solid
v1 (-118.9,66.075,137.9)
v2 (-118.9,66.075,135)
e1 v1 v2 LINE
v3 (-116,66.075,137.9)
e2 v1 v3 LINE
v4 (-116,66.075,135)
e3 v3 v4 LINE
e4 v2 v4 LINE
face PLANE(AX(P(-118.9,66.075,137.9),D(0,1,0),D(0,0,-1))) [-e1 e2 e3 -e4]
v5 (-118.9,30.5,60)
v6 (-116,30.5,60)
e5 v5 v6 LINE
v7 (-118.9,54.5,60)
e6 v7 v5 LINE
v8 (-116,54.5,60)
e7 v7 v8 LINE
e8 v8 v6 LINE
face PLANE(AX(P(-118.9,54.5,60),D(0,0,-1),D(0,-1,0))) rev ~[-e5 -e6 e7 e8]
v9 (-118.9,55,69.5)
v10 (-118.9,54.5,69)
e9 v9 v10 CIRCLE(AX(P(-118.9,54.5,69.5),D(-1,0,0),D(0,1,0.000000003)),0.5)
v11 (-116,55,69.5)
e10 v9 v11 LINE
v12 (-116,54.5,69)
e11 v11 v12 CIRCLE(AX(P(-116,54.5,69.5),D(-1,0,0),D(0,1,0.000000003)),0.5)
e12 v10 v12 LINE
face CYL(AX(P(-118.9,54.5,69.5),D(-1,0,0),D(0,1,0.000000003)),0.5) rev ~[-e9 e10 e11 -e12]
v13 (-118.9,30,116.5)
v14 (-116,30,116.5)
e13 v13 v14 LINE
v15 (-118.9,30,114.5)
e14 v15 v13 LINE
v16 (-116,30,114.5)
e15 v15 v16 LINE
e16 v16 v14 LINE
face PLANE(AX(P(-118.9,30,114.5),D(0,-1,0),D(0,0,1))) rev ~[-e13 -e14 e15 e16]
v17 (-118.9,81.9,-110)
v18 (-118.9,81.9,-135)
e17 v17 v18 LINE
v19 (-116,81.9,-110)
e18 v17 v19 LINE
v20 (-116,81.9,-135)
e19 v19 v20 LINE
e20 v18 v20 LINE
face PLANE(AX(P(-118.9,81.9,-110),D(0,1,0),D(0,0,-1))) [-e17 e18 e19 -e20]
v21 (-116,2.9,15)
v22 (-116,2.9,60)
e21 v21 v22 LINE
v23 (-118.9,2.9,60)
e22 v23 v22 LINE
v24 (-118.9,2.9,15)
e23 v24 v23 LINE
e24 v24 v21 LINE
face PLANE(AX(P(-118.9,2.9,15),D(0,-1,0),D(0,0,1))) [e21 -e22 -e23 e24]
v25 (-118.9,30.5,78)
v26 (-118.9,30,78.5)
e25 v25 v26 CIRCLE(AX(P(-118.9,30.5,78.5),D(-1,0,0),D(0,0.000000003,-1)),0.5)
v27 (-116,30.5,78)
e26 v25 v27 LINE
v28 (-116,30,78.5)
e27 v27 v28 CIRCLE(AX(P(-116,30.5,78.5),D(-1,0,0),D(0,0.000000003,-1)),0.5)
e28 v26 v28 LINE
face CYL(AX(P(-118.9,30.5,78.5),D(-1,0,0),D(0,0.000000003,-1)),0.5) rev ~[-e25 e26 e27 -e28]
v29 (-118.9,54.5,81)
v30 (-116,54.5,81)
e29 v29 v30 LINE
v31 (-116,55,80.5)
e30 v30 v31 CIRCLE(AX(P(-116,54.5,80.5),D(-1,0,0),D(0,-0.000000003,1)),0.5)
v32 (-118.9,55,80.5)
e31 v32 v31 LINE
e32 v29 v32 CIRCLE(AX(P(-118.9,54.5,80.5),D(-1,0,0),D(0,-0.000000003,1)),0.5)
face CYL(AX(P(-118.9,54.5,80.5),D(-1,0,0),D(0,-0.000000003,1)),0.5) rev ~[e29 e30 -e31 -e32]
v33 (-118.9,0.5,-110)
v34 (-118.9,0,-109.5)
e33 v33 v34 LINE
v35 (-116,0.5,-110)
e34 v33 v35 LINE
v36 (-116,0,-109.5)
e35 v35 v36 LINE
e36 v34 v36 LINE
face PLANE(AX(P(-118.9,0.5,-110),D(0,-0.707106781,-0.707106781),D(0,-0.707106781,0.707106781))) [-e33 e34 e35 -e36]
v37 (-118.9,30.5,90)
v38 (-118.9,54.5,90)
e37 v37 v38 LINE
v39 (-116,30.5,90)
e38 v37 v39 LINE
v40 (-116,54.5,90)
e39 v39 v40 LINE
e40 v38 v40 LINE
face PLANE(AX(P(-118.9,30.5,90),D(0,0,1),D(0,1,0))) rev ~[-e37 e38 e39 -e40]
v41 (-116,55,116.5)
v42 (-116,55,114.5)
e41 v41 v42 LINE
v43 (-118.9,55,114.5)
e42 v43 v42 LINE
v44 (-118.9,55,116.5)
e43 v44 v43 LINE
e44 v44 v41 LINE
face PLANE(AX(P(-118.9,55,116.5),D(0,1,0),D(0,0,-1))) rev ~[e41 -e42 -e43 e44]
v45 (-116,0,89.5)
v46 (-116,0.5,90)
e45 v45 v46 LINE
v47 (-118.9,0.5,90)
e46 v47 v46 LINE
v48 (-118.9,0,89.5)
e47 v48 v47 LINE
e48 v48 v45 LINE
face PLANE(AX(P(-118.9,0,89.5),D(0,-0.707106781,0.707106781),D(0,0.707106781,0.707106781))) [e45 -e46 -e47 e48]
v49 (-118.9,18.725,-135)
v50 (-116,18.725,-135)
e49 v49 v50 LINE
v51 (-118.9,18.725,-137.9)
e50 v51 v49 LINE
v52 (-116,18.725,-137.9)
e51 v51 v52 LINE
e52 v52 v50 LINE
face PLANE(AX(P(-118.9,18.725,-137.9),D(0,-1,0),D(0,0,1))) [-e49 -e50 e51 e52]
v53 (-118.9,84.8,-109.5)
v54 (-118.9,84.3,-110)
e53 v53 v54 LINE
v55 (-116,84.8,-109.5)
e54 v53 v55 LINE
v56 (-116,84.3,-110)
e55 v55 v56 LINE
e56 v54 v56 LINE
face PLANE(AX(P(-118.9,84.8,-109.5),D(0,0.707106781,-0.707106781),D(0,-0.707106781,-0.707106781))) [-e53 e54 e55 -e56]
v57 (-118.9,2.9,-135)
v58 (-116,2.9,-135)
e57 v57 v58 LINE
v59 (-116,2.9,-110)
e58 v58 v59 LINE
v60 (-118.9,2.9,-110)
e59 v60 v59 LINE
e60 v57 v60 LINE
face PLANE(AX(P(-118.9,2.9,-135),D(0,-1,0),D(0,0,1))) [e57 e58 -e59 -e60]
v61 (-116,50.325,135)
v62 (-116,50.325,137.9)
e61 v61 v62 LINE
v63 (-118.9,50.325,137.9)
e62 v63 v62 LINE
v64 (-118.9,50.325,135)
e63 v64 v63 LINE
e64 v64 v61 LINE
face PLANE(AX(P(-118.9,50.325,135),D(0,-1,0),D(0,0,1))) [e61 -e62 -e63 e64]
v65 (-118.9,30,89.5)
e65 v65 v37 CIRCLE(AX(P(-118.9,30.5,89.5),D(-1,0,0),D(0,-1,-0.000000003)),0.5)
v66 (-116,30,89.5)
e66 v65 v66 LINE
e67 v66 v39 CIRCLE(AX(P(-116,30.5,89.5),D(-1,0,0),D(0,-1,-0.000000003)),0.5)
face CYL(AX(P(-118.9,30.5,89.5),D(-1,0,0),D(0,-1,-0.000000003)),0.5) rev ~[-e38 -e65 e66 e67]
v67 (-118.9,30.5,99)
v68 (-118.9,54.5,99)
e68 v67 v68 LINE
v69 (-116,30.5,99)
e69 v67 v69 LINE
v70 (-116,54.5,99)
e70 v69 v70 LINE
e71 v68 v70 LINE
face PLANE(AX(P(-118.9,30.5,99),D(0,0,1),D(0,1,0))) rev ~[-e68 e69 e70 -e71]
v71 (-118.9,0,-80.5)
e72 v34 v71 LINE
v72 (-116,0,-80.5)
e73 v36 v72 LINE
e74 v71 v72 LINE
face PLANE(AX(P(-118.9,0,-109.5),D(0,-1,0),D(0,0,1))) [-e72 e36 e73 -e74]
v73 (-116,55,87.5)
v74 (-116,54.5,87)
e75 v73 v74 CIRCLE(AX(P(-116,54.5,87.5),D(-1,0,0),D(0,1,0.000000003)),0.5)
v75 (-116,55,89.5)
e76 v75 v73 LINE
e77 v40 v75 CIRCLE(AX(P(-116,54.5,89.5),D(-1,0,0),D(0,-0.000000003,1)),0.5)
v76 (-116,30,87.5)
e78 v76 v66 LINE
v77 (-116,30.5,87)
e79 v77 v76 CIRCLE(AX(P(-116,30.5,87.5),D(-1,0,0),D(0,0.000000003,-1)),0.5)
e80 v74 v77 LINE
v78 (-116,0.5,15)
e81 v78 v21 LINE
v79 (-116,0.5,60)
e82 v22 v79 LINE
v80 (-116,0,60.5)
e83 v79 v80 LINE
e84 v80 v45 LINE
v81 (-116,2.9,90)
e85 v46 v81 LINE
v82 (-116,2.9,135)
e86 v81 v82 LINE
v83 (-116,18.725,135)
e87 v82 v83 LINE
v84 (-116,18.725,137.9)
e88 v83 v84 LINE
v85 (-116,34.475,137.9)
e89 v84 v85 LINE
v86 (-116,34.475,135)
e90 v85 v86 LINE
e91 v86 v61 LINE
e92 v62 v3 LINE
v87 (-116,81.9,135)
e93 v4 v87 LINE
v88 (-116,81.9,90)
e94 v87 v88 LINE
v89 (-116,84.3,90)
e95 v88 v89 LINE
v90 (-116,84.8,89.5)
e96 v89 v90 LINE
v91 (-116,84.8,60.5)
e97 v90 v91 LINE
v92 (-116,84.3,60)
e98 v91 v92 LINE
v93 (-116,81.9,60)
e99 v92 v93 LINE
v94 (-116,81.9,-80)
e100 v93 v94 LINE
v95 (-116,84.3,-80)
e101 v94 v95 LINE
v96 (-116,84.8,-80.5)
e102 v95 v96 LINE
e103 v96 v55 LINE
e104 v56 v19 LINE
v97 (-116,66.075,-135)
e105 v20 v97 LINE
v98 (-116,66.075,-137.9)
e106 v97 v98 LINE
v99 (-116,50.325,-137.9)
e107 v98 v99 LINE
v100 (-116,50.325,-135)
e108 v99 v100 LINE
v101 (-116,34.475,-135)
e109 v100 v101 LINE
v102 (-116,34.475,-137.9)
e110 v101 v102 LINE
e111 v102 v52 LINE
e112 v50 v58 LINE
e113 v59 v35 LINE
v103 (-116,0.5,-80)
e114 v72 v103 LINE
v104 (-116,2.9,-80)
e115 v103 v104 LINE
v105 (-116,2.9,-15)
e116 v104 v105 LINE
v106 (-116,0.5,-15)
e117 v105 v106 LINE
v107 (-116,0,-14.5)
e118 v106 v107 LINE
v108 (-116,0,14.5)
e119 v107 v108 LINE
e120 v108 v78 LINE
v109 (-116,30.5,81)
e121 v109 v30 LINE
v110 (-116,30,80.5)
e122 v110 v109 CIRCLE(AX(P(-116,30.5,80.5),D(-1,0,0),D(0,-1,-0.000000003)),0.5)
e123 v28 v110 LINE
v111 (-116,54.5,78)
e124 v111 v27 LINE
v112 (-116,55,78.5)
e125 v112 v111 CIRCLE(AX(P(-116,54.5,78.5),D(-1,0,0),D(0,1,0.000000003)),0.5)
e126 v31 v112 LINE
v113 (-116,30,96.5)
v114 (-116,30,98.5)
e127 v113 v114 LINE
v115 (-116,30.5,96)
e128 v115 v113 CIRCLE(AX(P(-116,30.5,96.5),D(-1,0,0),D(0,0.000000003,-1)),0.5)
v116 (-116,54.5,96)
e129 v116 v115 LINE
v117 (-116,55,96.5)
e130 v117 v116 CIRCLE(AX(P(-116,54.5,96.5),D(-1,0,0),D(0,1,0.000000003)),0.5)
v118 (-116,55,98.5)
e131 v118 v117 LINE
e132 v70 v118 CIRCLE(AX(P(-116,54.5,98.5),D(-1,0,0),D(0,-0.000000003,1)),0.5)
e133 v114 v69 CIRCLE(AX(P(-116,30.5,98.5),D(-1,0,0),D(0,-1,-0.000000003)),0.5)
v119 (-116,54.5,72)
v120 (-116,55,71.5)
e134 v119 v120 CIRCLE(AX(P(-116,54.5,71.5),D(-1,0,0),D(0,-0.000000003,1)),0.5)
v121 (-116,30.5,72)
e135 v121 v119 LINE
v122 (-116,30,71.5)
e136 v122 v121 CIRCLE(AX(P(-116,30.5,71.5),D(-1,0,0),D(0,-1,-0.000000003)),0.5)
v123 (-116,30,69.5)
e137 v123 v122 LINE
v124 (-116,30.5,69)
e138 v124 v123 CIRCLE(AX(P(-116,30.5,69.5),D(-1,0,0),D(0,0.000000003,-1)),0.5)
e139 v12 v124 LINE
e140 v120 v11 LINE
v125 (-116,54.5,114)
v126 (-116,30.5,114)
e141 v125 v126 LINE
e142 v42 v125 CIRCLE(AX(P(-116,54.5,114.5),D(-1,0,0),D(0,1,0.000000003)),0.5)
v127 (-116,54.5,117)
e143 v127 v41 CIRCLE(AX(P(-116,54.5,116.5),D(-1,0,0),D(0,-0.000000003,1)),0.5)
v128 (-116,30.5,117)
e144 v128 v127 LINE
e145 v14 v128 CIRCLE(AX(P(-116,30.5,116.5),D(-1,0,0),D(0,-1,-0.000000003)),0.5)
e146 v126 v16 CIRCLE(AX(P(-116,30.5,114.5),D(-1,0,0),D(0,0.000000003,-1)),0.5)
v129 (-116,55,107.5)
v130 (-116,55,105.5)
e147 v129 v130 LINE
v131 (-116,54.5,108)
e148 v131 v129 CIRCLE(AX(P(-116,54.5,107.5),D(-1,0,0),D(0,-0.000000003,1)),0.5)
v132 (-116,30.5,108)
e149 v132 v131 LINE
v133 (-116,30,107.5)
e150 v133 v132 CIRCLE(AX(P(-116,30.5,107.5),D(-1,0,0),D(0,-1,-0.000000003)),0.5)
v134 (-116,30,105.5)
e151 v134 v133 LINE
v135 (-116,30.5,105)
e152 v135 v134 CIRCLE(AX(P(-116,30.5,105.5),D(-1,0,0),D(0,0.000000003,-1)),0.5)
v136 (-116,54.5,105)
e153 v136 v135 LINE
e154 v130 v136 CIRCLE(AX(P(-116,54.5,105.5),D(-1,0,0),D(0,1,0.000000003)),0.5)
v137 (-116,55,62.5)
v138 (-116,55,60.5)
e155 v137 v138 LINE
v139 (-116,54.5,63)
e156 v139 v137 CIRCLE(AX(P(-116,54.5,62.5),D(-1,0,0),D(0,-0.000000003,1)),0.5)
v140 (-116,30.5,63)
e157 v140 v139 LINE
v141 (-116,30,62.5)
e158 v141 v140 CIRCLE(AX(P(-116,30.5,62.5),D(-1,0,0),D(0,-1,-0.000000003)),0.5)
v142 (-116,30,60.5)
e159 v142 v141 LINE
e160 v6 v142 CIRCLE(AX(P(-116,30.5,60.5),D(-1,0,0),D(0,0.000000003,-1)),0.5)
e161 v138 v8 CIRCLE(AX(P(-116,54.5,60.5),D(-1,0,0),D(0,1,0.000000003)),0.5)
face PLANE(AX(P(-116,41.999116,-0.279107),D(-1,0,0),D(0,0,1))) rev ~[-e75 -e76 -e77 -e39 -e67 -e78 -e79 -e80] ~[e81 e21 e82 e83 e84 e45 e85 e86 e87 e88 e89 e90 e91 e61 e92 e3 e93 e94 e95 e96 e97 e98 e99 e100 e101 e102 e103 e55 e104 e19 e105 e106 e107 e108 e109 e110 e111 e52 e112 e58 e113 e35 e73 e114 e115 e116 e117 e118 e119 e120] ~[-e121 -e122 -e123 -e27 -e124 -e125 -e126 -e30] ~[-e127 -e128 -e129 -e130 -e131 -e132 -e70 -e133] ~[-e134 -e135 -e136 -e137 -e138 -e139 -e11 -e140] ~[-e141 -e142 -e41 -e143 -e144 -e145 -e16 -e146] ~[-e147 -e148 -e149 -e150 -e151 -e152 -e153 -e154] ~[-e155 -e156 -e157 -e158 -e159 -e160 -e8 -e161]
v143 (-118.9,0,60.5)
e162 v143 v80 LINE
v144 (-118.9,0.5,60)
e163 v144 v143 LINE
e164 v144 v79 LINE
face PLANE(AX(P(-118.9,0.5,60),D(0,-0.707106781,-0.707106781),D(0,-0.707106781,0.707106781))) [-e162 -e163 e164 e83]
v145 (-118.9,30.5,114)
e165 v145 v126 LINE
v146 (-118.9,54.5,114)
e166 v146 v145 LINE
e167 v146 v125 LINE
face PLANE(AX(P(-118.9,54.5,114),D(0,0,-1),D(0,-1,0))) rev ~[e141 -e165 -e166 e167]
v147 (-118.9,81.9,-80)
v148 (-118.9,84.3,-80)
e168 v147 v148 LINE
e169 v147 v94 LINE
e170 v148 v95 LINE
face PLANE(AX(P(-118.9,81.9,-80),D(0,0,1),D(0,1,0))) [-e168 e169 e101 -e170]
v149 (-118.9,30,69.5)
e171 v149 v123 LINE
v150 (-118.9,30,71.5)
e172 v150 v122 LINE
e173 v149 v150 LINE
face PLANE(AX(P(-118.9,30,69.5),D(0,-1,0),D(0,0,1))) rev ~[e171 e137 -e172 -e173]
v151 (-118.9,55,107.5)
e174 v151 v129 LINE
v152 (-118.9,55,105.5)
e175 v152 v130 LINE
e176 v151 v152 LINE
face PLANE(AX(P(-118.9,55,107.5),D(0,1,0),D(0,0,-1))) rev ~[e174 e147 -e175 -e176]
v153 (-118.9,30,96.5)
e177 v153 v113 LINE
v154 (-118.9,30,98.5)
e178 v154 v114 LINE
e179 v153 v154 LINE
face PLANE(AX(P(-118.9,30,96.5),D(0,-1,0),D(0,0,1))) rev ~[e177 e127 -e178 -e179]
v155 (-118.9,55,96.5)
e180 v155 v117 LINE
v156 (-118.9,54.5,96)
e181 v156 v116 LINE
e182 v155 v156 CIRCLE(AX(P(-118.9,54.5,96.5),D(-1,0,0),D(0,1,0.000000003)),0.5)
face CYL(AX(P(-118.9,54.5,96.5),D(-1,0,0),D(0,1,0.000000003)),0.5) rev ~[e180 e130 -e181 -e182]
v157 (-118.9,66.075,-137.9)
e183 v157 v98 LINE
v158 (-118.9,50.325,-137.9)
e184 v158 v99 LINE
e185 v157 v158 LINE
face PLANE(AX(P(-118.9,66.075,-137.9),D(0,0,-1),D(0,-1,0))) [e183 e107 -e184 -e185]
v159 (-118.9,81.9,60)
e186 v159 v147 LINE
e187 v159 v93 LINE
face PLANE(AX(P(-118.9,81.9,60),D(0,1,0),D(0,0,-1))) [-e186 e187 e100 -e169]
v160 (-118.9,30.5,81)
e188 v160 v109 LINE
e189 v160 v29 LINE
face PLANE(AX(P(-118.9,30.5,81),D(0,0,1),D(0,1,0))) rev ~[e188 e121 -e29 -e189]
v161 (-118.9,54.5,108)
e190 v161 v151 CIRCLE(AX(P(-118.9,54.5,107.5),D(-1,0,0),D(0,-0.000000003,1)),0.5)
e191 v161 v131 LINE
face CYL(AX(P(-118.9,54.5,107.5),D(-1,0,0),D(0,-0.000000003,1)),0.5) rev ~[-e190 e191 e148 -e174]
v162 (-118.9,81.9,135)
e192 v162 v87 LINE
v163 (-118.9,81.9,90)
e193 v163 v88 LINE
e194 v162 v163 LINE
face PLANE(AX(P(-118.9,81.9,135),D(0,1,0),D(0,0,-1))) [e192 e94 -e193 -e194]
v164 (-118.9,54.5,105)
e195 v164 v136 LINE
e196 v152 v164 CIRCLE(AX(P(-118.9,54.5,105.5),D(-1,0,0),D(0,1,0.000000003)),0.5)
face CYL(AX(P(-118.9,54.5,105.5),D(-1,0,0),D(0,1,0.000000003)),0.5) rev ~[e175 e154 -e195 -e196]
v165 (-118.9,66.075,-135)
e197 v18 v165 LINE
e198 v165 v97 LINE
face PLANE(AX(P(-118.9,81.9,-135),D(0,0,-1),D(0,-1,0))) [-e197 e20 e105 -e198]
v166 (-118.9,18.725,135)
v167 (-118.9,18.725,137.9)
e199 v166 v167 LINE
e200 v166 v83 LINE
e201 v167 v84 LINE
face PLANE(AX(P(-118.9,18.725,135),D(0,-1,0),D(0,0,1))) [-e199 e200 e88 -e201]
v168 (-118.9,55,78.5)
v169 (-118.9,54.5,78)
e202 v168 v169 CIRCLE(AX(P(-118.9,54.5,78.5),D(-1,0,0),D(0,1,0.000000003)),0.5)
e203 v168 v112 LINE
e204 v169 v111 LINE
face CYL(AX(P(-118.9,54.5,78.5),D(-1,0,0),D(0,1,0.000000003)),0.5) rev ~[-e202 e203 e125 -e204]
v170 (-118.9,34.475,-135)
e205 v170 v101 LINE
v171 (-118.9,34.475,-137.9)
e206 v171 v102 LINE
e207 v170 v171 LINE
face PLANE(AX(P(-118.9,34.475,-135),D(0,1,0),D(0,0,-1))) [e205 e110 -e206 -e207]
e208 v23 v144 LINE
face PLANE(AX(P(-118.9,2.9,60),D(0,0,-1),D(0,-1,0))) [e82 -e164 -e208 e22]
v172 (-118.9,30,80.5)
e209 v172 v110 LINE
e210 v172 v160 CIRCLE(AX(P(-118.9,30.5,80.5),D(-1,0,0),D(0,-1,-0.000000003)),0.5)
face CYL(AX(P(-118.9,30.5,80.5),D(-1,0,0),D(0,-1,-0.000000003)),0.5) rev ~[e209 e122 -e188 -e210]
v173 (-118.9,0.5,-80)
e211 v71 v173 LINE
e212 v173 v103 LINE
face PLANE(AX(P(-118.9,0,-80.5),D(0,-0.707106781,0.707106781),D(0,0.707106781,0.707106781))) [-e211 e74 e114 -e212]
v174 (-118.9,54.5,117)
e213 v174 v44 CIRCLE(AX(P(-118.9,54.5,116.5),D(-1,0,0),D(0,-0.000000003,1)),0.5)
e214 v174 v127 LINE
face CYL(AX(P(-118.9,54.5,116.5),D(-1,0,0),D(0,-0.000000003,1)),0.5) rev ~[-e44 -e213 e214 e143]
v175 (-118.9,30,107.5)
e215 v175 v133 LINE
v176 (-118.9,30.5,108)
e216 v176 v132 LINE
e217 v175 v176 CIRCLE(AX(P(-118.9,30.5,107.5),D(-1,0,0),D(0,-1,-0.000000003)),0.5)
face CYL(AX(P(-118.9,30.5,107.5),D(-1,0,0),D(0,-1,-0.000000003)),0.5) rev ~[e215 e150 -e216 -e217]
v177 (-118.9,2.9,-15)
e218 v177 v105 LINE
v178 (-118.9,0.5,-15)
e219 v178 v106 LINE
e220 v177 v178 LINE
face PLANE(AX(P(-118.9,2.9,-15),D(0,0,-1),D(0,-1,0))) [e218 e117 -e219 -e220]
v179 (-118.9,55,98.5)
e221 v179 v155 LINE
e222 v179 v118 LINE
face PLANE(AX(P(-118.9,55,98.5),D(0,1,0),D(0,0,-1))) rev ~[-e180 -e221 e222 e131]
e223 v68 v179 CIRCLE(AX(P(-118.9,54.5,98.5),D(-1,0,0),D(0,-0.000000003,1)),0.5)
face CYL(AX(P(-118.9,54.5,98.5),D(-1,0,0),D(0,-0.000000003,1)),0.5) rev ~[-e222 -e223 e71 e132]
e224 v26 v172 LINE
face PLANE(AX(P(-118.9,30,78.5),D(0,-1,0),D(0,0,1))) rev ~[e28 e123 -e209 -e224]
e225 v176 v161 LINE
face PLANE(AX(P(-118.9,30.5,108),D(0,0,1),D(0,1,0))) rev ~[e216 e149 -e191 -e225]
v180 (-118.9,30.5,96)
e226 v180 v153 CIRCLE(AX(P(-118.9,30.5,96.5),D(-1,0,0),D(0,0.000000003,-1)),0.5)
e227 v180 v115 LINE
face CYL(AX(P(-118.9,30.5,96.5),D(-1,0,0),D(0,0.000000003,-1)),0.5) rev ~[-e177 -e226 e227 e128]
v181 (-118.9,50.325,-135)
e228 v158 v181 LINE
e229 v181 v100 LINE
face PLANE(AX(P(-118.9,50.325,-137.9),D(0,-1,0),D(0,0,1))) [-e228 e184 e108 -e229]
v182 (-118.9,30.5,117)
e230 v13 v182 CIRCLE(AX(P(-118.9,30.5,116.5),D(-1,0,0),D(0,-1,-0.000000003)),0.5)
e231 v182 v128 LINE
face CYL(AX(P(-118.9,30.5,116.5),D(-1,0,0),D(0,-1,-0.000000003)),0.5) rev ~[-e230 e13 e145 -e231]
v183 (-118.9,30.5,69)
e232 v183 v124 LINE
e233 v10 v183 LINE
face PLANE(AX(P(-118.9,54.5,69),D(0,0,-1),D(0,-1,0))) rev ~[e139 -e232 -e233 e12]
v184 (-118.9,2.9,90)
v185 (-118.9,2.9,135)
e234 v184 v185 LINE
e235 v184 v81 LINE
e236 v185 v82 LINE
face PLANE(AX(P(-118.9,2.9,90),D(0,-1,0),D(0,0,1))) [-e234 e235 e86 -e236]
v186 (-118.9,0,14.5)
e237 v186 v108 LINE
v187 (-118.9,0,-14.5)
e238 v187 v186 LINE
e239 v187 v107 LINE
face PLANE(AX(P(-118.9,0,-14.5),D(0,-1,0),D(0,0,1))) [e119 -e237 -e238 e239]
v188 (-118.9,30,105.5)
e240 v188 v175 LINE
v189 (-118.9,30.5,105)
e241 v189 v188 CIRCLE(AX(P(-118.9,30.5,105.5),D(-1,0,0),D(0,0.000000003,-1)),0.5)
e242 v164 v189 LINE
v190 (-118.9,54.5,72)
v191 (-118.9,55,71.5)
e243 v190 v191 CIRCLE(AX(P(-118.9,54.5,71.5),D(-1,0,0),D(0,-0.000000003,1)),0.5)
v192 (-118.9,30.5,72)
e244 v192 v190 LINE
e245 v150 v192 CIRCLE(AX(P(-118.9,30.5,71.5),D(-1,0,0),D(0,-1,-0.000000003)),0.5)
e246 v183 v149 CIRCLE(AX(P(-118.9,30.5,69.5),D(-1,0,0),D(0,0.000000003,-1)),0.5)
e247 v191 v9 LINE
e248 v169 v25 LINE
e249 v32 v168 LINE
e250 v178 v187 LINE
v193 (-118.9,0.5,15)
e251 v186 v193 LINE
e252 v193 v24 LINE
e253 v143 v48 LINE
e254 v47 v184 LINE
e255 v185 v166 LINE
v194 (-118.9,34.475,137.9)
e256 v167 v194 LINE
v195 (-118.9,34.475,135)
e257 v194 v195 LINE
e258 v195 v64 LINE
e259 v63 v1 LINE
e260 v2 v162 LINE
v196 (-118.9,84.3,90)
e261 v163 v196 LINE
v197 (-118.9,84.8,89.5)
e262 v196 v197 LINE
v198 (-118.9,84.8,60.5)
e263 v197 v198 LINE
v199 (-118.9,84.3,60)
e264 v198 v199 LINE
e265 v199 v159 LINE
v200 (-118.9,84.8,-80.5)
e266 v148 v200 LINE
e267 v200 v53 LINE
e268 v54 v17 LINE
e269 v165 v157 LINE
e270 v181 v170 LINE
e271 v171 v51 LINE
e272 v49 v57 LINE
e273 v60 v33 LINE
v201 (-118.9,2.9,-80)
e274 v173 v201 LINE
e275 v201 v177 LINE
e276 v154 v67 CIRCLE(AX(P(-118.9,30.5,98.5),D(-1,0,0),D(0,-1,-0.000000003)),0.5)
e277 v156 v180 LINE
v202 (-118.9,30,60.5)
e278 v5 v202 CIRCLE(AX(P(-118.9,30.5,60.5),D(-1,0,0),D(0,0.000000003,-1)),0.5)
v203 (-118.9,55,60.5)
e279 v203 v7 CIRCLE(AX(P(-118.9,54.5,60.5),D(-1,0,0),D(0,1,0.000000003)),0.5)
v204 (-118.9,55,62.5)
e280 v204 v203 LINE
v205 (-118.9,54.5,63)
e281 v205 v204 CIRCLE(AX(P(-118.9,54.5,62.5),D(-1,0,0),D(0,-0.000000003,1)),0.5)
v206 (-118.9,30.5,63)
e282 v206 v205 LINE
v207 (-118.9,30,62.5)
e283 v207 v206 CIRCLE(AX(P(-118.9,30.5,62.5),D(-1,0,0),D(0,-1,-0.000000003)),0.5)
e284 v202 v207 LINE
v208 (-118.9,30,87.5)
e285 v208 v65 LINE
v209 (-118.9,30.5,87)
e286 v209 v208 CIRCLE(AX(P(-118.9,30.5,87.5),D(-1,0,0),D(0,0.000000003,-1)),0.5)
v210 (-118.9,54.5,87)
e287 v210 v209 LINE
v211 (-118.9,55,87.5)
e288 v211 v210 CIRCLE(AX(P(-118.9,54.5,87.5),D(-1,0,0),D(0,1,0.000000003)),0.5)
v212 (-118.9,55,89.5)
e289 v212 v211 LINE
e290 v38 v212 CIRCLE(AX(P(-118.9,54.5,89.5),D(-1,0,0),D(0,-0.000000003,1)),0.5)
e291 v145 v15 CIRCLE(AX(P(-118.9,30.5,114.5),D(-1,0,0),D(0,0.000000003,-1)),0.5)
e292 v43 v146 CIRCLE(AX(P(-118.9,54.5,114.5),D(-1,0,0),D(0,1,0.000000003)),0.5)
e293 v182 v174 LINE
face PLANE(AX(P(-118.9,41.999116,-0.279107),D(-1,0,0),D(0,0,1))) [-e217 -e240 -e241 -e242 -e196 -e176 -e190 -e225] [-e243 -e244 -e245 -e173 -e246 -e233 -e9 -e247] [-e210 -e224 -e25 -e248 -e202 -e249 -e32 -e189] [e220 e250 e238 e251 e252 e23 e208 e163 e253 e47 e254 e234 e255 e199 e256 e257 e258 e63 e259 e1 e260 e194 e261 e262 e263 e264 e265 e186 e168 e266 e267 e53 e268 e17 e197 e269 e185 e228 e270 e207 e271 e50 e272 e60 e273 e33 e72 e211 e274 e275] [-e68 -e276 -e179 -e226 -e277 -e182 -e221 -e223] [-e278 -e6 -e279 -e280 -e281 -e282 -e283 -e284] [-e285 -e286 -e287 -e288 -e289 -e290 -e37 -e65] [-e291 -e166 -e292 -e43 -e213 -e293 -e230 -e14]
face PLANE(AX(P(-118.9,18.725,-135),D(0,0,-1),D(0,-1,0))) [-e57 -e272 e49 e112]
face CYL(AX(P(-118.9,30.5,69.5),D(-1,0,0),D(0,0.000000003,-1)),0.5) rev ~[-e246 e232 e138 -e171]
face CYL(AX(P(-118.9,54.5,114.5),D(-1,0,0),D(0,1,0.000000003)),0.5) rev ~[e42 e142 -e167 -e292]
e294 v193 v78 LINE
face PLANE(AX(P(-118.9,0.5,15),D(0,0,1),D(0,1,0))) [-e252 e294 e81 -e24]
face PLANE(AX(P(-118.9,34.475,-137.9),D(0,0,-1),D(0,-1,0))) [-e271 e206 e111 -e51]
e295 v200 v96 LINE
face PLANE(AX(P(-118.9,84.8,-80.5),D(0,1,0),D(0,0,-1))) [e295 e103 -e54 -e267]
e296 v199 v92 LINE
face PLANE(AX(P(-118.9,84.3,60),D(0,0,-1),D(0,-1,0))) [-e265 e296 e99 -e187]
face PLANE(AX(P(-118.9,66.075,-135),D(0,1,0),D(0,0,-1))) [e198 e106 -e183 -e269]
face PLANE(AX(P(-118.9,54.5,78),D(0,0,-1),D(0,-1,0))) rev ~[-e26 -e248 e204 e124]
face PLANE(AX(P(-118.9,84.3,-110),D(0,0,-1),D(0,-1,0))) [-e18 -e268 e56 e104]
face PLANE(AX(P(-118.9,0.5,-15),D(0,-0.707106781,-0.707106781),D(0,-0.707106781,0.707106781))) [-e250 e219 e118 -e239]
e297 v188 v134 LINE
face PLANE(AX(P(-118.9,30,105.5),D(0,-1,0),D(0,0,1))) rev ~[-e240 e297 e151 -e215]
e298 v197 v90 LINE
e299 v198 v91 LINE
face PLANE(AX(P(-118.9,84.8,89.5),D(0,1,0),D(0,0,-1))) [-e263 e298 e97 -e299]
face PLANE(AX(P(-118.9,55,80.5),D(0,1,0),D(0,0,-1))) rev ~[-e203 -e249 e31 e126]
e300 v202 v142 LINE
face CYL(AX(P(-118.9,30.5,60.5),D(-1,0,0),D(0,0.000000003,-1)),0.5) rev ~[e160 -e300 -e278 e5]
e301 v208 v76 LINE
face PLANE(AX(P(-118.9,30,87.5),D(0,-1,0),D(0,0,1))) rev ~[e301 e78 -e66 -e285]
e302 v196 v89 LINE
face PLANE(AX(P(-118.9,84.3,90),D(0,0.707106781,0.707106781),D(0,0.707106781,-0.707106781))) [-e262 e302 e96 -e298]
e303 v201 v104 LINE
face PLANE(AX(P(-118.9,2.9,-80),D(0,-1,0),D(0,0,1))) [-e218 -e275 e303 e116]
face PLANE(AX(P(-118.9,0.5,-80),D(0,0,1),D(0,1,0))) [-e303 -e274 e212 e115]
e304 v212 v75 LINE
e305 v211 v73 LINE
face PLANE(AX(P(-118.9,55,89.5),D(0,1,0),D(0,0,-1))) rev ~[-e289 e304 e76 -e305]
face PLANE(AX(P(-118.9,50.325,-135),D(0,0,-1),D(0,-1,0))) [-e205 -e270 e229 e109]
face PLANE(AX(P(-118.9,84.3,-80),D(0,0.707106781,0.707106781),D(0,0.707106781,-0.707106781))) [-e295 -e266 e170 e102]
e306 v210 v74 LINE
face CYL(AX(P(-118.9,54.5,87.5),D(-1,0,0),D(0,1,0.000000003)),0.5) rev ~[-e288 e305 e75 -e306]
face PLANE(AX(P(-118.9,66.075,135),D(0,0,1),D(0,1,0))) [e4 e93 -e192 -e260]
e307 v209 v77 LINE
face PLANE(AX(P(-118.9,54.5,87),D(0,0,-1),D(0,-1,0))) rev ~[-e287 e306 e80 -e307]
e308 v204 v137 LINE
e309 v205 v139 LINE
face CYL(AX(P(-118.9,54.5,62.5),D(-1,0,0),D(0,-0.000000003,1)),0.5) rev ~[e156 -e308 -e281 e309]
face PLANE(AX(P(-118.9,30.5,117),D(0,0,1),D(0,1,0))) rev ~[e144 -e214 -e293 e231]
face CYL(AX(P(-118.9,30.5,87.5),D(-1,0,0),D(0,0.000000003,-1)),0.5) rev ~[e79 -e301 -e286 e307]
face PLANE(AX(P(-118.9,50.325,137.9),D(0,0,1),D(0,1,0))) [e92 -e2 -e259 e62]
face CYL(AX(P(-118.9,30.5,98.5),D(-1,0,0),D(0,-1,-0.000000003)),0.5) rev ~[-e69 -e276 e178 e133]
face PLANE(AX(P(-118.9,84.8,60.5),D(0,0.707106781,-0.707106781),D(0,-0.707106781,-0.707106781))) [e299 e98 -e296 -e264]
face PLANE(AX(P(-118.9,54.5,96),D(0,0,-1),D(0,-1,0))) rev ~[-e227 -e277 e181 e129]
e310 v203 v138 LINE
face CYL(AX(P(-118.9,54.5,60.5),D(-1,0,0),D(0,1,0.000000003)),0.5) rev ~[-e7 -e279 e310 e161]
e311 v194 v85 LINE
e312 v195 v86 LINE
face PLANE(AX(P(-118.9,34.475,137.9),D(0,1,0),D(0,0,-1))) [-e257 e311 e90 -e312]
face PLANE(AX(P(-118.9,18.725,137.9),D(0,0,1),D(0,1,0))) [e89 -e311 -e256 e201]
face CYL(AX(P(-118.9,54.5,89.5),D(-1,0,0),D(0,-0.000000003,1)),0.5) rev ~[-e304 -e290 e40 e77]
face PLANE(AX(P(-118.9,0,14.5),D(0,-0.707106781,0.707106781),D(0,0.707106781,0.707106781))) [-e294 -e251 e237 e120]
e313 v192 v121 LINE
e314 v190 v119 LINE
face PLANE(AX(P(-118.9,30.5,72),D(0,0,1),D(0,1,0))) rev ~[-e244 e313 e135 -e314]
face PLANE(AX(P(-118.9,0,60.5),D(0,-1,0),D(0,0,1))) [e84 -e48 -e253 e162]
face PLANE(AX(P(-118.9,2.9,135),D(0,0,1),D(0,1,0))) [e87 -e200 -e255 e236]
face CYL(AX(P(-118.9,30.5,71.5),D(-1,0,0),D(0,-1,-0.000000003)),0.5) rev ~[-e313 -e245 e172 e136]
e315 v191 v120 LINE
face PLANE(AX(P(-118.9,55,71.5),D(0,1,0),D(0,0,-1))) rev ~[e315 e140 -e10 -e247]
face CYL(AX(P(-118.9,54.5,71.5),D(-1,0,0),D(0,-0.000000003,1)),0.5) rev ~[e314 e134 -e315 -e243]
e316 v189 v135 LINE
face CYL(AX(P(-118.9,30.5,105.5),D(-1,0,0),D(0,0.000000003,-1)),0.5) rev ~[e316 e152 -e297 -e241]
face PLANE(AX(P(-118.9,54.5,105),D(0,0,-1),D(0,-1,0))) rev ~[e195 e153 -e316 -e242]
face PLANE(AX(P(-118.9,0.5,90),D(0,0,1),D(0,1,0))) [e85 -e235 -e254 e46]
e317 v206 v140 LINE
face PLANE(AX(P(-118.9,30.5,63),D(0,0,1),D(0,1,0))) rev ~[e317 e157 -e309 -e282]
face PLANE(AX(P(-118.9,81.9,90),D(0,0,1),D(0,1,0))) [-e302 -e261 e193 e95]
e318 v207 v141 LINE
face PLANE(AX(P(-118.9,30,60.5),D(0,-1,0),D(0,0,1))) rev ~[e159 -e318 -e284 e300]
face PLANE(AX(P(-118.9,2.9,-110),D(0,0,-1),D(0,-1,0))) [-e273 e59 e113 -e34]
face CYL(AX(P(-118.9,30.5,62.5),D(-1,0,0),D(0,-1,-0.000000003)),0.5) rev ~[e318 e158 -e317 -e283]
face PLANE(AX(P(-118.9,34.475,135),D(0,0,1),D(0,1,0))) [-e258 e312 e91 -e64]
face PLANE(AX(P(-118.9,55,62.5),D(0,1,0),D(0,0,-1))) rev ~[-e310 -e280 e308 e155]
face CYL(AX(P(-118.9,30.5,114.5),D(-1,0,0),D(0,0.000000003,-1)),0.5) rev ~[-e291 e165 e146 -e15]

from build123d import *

# Parameters (mm, degrees)
BOSS_EXTRUDE1_DEPTH = 2.9


with BuildPart() as part:
    # Sketch1 → Boss-Extrude1 (new body)
    with BuildSketch(Plane(origin=(-118.9, 0, 0), x_dir=(0, 0, -1), z_dir=(1, 0, 0))):
        Polygon((135, 2.9), (110, 2.9), (110, 0.5), (109.5, 0), (80.5, 0), (80, 0.5), (80, 2.9), (15, 2.9), (15, 0.5), (14.5, 0), (-14.5, 0), (-15, 0.5), (-15, 2.9), (-60, 2.9), (-60, 0.5), (-60.5, 0), (-89.5, 0), (-90, 0.5), (-90, 2.9), (-135, 2.9), (-135, 18.725), (-137.9, 18.725), (-137.9, 34.475), (-135, 34.475), (-135, 50.325), (-137.9, 50.325), (-137.9, 66.075), (-135, 66.075), (-135, 81.9), (-90, 81.9), (-90, 84.3), (-89.5, 84.8), (-60.5, 84.8), (-60, 84.3), (-60, 81.9), (80, 81.9), (80, 84.3), (80.5, 84.8), (109.5, 84.8), (110, 84.3), (110, 81.9), (135, 81.9), (135, 66.075), (137.9, 66.075), (137.9, 50.325), (135, 50.325), (135, 34.475), (137.9, 34.475), (137.9, 18.725), (135, 18.725), align=None)
        with BuildLine():
            Line((-114.5, 30), (-116.5, 30))
            ThreePointArc((-116.5, 30), (-116.853553391, 30.146446609), (-117, 30.5))
            Line((-117, 30.5), (-117, 54.5))
            ThreePointArc((-117, 54.5), (-116.853553391, 54.853553391), (-116.5, 55))
            Line((-116.5, 55), (-114.5, 55))
            ThreePointArc((-114.5, 55), (-114.146446609, 54.853553391), (-114, 54.5))
            Line((-114, 54.5), (-114, 30.5))
            ThreePointArc((-114, 30.5), (-114.146446609, 30.146446609), (-114.5, 30))
        make_face(mode=Mode.SUBTRACT)
        with BuildLine():
            Line((-105.5, 30), (-107.5, 30))
            ThreePointArc((-107.5, 30), (-107.853553391, 30.146446609), (-108, 30.5))
            Line((-108, 30.5), (-108, 54.5))
            ThreePointArc((-108, 54.5), (-107.853553391, 54.853553391), (-107.5, 55))
            Line((-107.5, 55), (-105.5, 55))
            ThreePointArc((-105.5, 55), (-105.146446609, 54.853553391), (-105, 54.5))
            Line((-105, 54.5), (-105, 30.5))
            ThreePointArc((-105, 30.5), (-105.146446609, 30.146446609), (-105.5, 30))
        make_face(mode=Mode.SUBTRACT)
        with BuildLine():
            Line((-96.5, 30), (-98.5, 30))
            ThreePointArc((-98.5, 30), (-98.853553391, 30.146446609), (-99, 30.5))
            Line((-99, 30.5), (-99, 54.5))
            ThreePointArc((-99, 54.5), (-98.853553391, 54.853553391), (-98.5, 55))
            Line((-98.5, 55), (-96.5, 55))
            ThreePointArc((-96.5, 55), (-96.146446609, 54.853553391), (-96, 54.5))
            Line((-96, 54.5), (-96, 30.5))
            ThreePointArc((-96, 30.5), (-96.146446609, 30.146446609), (-96.5, 30))
        make_face(mode=Mode.SUBTRACT)
        with BuildLine():
            Line((-87.5, 30), (-89.5, 30))
            ThreePointArc((-89.5, 30), (-89.853553391, 30.146446609), (-90, 30.5))
            Line((-90, 30.5), (-90, 54.5))
            ThreePointArc((-90, 54.5), (-89.853553391, 54.853553391), (-89.5, 55))
            Line((-89.5, 55), (-87.5, 55))
            ThreePointArc((-87.5, 55), (-87.146446609, 54.853553391), (-87, 54.5))
            Line((-87, 54.5), (-87, 30.5))
            ThreePointArc((-87, 30.5), (-87.146446609, 30.146446609), (-87.5, 30))
        make_face(mode=Mode.SUBTRACT)
        with BuildLine():
            Line((-78.5, 30), (-80.5, 30))
            ThreePointArc((-80.5, 30), (-80.853553391, 30.146446609), (-81, 30.5))
            Line((-81, 30.5), (-81, 54.5))
            ThreePointArc((-81, 54.5), (-80.853553391, 54.853553391), (-80.5, 55))
            Line((-80.5, 55), (-78.5, 55))
            ThreePointArc((-78.5, 55), (-78.146446609, 54.853553391), (-78, 54.5))
            Line((-78, 54.5), (-78, 30.5))
            ThreePointArc((-78, 30.5), (-78.146446609, 30.146446609), (-78.5, 30))
        make_face(mode=Mode.SUBTRACT)
        with BuildLine():
            Line((-69.5, 30), (-71.5, 30))
            ThreePointArc((-71.5, 30), (-71.853553391, 30.146446609), (-72, 30.5))
            Line((-72, 30.5), (-72, 54.5))
            ThreePointArc((-72, 54.5), (-71.853553391, 54.853553391), (-71.5, 55))
            Line((-71.5, 55), (-69.5, 55))
            ThreePointArc((-69.5, 55), (-69.146446609, 54.853553391), (-69, 54.5))
            Line((-69, 54.5), (-69, 30.5))
            ThreePointArc((-69, 30.5), (-69.146446609, 30.146446609), (-69.5, 30))
        make_face(mode=Mode.SUBTRACT)
        with BuildLine():
            Line((-60.5, 30), (-62.5, 30))
            ThreePointArc((-62.5, 30), (-62.853553391, 30.146446609), (-63, 30.5))
            Line((-63, 30.5), (-63, 54.5))
            ThreePointArc((-63, 54.5), (-62.853553391, 54.853553391), (-62.5, 55))
            Line((-62.5, 55), (-60.5, 55))
            ThreePointArc((-60.5, 55), (-60.146446609, 54.853553391), (-60, 54.5))
            Line((-60, 54.5), (-60, 30.5))
            ThreePointArc((-60, 30.5), (-60.146446609, 30.146446609), (-60.5, 30))
        make_face(mode=Mode.SUBTRACT)
    extrude(amount=BOSS_EXTRUDE1_DEPTH)


solid = part.part
